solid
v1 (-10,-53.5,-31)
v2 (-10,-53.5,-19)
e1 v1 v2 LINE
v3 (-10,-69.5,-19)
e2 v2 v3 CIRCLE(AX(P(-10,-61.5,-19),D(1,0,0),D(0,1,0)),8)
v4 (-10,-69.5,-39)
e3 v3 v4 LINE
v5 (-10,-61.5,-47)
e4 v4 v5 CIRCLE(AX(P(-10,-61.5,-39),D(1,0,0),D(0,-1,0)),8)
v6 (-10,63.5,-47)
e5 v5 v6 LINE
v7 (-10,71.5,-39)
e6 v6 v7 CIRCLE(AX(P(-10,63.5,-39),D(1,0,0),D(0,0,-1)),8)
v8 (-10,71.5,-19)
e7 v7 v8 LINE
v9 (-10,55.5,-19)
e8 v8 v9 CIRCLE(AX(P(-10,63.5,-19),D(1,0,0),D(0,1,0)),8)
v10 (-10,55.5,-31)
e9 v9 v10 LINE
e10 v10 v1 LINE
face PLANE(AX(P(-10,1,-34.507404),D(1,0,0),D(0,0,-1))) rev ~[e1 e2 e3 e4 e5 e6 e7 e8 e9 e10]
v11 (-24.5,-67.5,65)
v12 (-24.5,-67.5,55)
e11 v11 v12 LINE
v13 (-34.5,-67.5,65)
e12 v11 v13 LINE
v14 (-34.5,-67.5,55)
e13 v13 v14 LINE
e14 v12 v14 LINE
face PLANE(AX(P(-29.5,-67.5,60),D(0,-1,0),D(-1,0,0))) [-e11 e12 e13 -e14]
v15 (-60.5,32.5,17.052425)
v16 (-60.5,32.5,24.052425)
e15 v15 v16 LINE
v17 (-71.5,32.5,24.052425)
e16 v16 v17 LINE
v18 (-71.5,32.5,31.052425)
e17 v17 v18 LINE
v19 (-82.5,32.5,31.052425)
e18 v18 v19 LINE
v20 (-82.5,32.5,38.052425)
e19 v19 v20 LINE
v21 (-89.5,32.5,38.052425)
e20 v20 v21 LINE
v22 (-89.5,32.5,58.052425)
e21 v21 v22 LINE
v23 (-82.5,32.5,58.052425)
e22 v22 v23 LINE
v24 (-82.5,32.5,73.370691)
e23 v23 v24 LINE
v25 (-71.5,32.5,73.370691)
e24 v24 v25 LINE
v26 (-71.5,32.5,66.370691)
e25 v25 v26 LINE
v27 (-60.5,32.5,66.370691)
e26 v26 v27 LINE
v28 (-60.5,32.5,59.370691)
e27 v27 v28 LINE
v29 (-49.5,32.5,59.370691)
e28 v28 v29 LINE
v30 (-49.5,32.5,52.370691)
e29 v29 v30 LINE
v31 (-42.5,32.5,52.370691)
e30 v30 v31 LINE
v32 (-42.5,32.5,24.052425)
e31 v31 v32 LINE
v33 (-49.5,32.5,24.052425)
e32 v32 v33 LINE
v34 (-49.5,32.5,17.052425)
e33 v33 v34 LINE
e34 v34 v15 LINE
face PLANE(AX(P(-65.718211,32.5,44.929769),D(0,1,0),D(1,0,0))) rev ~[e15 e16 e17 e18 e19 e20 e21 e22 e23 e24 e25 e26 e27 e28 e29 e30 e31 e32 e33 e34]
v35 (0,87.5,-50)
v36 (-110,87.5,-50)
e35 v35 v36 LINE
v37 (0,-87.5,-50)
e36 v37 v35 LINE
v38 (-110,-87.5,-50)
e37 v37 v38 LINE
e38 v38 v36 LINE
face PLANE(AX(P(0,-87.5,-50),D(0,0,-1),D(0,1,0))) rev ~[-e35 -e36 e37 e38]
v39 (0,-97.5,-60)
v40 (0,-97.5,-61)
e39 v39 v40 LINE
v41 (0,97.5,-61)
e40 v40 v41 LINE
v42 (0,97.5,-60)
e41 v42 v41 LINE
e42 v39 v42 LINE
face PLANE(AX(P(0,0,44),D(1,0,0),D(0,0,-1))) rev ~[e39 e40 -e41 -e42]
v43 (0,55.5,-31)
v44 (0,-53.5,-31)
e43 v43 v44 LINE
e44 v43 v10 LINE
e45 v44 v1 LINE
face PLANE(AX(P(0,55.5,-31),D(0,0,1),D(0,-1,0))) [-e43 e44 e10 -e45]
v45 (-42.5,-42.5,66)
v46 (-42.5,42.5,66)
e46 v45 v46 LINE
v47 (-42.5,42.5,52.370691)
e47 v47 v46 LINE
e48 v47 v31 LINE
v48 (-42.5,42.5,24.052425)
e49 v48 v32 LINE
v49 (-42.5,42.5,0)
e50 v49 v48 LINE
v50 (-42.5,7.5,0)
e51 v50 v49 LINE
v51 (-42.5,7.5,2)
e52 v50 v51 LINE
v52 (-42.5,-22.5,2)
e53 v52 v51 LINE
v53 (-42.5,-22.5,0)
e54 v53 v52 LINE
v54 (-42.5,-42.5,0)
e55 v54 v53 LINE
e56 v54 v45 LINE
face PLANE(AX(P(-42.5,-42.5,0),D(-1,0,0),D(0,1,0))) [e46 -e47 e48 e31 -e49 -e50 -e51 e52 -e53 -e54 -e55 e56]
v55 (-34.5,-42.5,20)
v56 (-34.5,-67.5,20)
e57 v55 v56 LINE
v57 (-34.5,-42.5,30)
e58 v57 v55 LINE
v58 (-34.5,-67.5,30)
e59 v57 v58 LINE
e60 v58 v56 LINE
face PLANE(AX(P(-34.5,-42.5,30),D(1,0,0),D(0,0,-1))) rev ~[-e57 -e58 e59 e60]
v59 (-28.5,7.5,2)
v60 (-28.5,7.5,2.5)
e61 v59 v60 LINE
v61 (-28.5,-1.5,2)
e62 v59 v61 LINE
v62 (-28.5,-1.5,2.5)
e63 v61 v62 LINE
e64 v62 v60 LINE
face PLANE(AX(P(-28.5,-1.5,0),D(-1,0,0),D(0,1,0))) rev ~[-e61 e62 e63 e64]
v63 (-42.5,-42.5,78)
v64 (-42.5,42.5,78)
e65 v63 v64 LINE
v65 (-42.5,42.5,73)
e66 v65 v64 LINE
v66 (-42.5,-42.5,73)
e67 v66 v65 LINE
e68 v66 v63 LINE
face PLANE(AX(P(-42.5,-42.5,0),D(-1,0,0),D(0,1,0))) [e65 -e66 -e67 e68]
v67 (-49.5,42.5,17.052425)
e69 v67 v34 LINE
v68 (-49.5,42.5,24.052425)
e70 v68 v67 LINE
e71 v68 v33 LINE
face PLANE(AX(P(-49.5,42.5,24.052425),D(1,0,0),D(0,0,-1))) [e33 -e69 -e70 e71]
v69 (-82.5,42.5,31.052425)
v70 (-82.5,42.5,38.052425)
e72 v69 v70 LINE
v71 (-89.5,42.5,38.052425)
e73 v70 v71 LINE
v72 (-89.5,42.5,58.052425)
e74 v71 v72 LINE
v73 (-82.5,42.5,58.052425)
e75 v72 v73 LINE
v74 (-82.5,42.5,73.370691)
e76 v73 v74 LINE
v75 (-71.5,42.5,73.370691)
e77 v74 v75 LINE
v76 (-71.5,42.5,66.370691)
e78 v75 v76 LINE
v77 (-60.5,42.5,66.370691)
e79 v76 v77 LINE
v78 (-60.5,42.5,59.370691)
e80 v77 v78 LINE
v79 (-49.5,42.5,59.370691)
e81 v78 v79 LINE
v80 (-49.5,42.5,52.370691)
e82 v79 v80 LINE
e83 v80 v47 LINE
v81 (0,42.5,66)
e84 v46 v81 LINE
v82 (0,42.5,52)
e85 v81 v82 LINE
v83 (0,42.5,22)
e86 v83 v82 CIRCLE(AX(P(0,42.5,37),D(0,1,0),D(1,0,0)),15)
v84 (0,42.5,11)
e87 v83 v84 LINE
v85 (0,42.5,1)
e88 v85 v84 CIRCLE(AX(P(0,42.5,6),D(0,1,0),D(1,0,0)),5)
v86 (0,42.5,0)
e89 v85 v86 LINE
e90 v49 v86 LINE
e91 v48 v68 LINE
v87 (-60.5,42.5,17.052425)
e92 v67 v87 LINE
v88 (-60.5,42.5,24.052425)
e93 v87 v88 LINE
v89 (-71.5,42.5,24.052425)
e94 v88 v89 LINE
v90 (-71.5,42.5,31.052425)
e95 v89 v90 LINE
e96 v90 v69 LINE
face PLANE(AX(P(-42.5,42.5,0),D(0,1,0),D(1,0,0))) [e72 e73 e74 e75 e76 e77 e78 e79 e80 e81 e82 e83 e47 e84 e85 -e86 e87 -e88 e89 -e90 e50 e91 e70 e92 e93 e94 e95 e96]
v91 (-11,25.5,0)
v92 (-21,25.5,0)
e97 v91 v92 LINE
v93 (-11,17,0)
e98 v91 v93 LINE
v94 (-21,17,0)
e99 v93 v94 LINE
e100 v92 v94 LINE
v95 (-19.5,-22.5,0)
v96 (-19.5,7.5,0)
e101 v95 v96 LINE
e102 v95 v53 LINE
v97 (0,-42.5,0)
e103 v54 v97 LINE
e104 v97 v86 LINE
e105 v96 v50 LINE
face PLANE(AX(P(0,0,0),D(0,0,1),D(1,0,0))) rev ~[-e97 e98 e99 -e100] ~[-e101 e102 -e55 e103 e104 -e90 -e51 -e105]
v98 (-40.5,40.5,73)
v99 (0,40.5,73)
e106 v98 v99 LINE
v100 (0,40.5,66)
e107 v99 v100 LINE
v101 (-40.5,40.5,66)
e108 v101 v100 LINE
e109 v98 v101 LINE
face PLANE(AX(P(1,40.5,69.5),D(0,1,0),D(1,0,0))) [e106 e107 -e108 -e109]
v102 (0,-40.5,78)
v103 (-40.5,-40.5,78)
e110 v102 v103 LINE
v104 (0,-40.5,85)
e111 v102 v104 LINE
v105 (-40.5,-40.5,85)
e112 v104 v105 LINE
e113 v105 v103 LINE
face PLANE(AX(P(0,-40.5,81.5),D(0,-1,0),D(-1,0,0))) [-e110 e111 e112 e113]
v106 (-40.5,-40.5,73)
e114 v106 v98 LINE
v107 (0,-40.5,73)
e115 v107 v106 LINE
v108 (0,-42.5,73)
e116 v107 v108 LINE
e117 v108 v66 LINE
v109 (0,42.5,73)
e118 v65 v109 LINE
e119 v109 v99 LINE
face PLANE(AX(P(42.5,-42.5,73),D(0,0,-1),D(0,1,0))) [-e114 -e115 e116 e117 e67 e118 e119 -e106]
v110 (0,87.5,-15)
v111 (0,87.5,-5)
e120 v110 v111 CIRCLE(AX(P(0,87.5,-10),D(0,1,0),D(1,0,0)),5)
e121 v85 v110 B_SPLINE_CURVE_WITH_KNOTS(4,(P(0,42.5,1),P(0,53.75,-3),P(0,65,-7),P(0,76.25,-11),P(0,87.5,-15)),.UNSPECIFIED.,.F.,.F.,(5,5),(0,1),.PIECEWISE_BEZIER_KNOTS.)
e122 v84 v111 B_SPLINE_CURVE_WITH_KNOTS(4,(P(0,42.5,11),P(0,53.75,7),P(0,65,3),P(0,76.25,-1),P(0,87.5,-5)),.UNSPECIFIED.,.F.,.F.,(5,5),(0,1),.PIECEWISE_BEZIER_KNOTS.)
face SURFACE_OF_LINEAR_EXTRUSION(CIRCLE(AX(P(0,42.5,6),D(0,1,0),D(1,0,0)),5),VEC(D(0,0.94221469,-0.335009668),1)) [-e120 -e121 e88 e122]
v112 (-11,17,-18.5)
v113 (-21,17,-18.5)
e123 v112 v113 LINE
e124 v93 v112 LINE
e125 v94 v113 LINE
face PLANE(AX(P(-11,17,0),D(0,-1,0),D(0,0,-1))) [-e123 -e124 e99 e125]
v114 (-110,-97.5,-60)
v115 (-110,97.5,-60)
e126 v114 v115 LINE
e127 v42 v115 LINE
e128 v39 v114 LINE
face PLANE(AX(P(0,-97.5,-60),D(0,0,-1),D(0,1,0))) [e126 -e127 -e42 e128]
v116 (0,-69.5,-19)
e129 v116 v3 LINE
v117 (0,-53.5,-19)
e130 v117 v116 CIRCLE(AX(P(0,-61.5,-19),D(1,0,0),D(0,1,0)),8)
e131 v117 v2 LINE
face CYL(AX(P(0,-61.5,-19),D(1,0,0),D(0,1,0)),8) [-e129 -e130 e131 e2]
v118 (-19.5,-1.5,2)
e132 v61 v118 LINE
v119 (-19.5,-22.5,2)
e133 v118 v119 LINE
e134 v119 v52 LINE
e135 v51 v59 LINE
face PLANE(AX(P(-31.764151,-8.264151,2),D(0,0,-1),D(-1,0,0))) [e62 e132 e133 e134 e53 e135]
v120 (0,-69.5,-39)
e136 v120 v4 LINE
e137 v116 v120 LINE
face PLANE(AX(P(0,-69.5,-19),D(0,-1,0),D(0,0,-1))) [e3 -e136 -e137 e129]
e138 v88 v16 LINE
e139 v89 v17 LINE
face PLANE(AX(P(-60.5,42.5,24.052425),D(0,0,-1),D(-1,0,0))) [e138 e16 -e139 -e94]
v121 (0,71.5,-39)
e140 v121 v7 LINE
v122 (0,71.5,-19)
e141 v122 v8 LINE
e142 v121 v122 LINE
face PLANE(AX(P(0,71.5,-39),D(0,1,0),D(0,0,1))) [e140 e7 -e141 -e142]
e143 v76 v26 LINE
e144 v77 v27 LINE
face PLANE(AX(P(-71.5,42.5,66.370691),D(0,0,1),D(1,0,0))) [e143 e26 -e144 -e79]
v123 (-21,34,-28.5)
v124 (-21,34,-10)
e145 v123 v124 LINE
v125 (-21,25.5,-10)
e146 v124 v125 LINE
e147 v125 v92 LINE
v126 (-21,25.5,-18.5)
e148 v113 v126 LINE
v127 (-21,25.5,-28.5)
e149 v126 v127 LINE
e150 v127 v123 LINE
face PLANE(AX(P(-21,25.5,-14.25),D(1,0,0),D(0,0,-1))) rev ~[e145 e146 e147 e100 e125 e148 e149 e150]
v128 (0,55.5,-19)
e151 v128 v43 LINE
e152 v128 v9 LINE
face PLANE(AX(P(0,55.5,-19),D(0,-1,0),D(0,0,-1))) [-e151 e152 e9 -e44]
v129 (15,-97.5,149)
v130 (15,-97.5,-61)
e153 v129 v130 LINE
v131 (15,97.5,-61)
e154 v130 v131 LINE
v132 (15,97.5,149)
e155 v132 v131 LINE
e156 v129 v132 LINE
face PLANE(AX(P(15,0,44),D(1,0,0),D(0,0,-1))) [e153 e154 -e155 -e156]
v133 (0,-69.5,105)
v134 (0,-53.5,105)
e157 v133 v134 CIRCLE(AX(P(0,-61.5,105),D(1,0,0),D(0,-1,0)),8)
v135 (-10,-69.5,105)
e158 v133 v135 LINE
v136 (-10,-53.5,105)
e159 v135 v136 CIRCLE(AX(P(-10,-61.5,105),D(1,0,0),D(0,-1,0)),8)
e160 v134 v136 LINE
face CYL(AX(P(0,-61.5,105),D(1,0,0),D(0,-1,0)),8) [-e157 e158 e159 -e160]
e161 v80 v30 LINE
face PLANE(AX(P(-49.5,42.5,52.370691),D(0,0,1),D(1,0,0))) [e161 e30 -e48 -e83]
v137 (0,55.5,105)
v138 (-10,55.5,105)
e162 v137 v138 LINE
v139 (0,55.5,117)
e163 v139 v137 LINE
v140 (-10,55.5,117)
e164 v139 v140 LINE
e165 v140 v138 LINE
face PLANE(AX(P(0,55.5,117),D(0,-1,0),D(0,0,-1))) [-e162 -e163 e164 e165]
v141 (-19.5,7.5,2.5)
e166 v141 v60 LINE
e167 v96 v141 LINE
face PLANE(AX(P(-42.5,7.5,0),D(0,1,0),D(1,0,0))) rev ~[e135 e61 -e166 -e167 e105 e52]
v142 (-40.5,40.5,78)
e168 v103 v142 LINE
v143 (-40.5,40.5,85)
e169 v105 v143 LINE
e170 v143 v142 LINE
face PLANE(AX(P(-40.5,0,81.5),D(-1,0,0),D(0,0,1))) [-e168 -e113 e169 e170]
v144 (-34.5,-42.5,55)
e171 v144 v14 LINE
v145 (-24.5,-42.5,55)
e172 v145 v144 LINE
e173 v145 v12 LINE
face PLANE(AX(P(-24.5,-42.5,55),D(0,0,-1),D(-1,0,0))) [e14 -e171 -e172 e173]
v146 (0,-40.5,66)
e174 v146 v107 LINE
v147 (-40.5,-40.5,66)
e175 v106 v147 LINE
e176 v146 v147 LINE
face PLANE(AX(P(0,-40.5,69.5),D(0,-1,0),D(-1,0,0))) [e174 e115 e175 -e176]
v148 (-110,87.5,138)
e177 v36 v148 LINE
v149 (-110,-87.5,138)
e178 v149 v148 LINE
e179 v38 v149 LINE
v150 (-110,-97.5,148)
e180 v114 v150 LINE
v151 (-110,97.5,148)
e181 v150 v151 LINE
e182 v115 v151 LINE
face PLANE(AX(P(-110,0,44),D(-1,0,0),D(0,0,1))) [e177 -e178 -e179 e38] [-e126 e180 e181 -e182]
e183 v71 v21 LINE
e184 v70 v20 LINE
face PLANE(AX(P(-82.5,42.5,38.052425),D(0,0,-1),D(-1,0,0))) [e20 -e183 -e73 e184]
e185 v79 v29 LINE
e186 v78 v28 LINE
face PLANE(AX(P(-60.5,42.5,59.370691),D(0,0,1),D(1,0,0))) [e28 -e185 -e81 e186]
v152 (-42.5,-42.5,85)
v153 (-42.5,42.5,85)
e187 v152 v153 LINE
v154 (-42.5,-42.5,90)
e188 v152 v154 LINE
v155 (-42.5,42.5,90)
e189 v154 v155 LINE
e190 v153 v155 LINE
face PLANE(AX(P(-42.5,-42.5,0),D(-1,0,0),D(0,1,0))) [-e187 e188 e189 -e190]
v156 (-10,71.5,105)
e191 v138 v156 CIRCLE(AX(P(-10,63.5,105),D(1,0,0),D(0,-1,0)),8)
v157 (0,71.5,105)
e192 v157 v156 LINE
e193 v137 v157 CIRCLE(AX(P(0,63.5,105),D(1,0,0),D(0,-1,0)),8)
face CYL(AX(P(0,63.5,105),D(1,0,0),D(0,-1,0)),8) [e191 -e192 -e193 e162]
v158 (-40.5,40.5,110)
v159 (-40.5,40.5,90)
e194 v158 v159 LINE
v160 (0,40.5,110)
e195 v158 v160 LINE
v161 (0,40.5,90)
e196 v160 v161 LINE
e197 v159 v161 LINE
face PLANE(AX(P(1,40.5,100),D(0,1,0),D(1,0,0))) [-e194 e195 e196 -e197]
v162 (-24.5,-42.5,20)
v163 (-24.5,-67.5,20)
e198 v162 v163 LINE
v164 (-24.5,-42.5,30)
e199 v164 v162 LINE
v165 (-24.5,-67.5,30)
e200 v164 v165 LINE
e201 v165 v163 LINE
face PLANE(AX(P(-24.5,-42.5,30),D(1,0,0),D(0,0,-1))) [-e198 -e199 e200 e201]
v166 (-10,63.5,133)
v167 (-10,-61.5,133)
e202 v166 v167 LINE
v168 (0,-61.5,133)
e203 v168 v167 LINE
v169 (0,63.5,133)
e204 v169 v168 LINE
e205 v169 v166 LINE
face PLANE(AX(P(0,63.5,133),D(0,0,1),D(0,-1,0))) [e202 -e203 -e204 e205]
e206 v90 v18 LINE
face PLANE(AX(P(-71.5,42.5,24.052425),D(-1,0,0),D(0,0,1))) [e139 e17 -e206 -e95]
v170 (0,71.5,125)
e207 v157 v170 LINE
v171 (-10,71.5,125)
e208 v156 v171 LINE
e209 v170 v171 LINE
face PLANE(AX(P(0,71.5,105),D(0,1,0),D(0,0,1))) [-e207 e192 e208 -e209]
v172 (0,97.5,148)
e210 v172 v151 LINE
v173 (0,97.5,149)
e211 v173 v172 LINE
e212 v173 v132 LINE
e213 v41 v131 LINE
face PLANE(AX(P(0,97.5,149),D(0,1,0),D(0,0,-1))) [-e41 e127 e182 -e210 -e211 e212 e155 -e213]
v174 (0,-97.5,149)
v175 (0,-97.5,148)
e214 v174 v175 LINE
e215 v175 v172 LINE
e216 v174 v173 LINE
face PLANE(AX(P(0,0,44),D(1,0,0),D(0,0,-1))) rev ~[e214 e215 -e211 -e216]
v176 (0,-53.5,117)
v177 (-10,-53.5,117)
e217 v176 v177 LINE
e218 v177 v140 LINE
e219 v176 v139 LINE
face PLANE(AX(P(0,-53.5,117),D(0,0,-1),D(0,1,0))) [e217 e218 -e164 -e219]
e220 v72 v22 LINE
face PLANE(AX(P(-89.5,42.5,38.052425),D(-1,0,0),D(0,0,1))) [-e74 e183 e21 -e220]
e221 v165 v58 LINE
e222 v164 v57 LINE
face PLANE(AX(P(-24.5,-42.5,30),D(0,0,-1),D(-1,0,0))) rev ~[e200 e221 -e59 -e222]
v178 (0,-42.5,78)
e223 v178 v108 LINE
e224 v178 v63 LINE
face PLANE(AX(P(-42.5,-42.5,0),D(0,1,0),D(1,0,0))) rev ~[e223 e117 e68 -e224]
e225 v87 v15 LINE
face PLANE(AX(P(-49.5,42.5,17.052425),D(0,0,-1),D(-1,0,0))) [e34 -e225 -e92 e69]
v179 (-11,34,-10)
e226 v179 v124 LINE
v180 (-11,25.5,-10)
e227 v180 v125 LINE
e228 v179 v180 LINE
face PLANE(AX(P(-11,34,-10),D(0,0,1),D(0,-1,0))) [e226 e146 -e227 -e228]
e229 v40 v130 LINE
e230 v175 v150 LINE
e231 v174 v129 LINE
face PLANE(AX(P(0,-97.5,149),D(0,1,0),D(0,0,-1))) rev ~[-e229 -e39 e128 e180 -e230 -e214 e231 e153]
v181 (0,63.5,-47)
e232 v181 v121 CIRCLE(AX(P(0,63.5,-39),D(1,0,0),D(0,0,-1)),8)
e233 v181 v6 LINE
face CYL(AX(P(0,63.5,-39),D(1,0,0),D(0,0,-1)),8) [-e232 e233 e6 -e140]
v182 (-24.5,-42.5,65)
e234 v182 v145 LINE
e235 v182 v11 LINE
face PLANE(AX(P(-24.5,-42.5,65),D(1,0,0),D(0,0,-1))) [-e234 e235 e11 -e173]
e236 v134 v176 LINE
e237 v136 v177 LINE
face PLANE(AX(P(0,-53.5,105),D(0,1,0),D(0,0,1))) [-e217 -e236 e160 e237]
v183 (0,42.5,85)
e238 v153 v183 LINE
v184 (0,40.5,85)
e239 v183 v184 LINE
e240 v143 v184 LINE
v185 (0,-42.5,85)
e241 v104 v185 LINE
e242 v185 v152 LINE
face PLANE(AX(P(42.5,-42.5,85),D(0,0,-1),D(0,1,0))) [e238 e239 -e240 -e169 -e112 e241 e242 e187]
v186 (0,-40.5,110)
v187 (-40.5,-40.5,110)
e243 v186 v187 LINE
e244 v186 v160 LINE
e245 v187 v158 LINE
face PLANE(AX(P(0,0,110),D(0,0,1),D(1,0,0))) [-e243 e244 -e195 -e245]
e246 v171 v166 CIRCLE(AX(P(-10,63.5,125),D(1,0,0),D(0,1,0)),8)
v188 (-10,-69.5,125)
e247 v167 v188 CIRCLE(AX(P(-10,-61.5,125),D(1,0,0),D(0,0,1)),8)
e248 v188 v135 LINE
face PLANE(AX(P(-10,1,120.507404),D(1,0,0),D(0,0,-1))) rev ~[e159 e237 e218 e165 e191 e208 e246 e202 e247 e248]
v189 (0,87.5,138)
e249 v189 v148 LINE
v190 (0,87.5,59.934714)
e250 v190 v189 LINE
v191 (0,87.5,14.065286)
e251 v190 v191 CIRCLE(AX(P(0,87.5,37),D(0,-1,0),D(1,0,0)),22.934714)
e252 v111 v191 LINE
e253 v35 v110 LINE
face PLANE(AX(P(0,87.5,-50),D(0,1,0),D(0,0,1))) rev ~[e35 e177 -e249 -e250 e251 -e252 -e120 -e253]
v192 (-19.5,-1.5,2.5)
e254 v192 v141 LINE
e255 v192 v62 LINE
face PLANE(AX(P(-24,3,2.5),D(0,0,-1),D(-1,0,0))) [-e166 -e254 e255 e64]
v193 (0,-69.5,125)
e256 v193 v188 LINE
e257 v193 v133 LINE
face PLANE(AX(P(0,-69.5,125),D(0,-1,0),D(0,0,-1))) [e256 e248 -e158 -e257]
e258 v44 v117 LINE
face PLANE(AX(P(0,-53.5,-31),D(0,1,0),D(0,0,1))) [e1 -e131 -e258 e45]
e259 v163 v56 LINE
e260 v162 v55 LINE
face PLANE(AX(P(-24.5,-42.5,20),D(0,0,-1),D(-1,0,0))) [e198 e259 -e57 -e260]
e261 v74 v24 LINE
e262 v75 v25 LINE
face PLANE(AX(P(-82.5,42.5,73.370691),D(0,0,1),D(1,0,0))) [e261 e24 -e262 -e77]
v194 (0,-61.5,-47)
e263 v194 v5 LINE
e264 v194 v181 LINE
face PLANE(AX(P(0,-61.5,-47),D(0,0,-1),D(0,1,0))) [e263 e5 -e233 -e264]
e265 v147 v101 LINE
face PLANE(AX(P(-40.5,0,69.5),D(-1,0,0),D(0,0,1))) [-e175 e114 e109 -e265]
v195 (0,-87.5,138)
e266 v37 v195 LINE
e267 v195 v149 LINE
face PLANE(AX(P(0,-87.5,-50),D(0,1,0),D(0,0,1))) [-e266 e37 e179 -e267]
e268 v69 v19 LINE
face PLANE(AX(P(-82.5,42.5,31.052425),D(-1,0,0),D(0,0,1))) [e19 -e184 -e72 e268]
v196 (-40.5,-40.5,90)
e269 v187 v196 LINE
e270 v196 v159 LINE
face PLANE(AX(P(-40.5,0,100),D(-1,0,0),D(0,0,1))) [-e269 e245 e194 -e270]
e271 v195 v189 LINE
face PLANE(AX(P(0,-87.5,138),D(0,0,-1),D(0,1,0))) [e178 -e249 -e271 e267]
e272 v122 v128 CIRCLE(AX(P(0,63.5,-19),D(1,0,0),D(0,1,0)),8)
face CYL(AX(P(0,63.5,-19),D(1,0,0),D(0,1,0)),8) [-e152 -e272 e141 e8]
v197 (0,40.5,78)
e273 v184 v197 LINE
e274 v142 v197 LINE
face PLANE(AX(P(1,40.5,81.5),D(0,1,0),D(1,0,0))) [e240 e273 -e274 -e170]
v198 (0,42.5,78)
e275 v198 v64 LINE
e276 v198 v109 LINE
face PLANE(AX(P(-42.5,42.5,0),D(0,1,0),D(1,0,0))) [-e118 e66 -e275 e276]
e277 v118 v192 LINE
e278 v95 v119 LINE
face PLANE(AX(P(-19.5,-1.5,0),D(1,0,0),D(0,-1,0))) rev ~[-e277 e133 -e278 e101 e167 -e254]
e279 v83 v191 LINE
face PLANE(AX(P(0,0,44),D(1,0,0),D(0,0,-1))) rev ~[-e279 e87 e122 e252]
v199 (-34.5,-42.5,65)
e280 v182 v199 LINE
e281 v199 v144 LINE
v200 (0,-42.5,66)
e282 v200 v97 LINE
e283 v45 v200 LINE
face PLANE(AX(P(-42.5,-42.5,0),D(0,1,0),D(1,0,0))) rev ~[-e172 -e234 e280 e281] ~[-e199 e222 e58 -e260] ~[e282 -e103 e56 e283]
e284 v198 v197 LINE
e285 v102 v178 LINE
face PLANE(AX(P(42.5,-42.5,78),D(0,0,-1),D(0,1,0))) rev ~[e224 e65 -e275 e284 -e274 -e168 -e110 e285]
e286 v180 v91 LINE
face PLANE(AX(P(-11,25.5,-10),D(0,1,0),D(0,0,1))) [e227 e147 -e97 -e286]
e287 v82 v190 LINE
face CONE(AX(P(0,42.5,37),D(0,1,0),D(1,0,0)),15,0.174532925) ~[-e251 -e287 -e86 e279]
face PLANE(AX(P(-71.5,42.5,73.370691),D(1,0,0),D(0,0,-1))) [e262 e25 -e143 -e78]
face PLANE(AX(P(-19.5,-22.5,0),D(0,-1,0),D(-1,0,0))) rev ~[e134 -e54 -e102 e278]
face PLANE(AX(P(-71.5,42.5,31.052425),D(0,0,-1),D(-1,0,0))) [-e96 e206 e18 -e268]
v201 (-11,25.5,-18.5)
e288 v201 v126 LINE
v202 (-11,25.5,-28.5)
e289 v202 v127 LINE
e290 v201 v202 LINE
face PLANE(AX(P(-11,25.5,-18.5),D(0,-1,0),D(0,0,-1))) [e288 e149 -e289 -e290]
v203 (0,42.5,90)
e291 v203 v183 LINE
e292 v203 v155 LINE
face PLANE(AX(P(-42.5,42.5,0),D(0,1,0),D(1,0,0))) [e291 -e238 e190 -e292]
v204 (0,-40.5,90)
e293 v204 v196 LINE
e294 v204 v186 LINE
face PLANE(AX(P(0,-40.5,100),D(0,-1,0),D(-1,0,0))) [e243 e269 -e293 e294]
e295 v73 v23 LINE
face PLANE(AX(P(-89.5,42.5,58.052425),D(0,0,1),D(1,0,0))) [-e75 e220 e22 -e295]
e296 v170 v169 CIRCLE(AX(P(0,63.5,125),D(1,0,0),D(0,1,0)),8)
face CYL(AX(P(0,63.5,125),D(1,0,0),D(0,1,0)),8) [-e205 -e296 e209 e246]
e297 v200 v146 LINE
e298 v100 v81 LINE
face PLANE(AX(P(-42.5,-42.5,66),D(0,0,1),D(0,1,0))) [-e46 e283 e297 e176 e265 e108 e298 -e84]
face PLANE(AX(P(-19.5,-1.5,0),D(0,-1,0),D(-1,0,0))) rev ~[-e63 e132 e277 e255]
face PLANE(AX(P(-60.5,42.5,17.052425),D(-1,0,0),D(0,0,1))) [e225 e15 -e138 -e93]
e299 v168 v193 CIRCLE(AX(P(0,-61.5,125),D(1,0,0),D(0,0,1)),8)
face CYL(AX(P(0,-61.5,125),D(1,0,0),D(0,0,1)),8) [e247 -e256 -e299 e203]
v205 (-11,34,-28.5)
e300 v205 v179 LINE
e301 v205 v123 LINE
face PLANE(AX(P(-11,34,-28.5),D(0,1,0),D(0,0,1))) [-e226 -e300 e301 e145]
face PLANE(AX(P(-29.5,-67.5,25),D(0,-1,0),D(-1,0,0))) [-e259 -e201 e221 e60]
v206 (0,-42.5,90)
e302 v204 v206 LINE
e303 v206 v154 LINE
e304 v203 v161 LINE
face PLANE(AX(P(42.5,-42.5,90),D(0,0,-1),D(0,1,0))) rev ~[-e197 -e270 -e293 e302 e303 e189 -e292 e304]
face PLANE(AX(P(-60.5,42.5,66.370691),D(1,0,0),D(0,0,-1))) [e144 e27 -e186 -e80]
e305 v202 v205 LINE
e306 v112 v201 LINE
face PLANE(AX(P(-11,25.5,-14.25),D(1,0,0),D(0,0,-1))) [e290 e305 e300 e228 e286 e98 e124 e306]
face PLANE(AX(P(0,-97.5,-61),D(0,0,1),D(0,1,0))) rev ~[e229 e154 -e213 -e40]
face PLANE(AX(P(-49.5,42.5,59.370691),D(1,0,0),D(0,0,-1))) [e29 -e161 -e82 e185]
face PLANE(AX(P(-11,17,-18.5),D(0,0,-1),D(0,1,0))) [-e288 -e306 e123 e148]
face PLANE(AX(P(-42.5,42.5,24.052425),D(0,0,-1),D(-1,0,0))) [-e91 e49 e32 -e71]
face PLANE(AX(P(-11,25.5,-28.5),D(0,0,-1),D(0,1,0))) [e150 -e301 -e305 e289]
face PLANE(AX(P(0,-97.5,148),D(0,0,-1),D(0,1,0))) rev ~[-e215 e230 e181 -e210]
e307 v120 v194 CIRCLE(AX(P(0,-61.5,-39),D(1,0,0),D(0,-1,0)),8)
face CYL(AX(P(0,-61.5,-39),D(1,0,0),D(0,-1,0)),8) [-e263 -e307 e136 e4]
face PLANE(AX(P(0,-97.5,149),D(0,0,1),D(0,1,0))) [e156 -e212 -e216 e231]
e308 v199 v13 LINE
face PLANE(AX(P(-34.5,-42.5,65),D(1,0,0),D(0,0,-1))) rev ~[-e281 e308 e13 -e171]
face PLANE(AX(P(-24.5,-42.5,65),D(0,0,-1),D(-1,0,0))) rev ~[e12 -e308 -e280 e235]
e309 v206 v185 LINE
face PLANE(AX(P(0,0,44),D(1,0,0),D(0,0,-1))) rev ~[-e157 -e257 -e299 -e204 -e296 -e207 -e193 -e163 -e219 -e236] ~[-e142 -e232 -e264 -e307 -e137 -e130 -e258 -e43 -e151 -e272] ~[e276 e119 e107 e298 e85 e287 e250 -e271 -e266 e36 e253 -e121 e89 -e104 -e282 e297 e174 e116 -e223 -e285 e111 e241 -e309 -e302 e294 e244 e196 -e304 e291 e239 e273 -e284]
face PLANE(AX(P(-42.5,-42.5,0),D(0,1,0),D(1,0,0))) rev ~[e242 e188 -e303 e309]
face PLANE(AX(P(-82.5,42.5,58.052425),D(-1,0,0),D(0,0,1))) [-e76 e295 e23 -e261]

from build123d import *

# Parameters (mm, degrees)
CROQUIS2_W              = 85
CROQUIS2_H              = 85
SALIENTE_EXTRUIR1_DEPTH = 110
CROQUIS3_W              = 20
CROQUIS3_H              = 85
CROQUIS3_W_2            = 7
CORTAR_EXTRUIR1_DEPTH   = 2
CROQUIS5_W              = 83
CROQUIS5_H              = 20
CROQUIS5_H_2            = 7
CORTAR_EXTRUIR2_DEPTH   = 2
CROQUIS6_W              = 20
CROQUIS6_H              = 83
CROQUIS6_W_2            = 7
CORTAR_EXTRUIR3_DEPTH   = 2
CROQUIS7_W              = 81
CROQUIS7_H              = 20
CROQUIS7_H_2            = 7
CORTAR_EXTRUIR4_DEPTH   = 2
CORTAR_EXTRUIR6_DEPTH   = 2
CROQUIS12_W             = 9
CROQUIS12_H             = 9
CORTAR_EXTRUIR7_DEPTH   = 2.5
SALIENTE_EXTRUIR3_DEPTH = 10
SALIENTE_EXTRUIR4_DEPTH = 10
SALIENTE_EXTRUIR5_DEPTH = 10
CROQUIS20_W             = 10
CROQUIS20_H             = 10
SALIENTE_EXTRUIR6_DEPTH = 25
CROQUIS21_W             = 150.699966202
CROQUIS21_H             = 120.747177889
CORTAR_EXTRUIR9_DEPTH   = 112
CROQUIS22_W             = 210
CROQUIS22_H             = 195
SALIENTE_EXTRUIR7_DEPTH = 15
CROQUIS23_W             = 208
CROQUIS23_H             = 195
CROQUIS23_W_2           = 188
CROQUIS23_H_2           = 175
EXTRUIR_L_MINA1_DEPTH   = 110
SALIENTE_EXTRUIR8_REACH = 234.166
CROQUIS25_R             = 15
SALIENTE_EXTRUIR8_DRAFT = -10
CROQUIS26_R             = 5
SALIENTE_EXTRUIR9_DEPTH = 10


with BuildPart() as part:
    # Croquis2 → Saliente-Extruir1 (new body)
    with BuildSketch(Plane.XY):
        Rectangle(CROQUIS2_W, CROQUIS2_H)
    extrude(amount=SALIENTE_EXTRUIR1_DEPTH)

    # Croquis3 → Cortar-Extruir1 (cut)
    with BuildSketch(Plane.ZY.offset(42.5)):
        with Locations((100, 0)):
            Rectangle(CROQUIS3_W, CROQUIS3_H)
        with Locations((81.5, 0)):
            Rectangle(CROQUIS3_W_2, CROQUIS3_H)
        with Locations((69.5, 0)):
            Rectangle(CROQUIS3_W_2, CROQUIS3_H)
    extrude(amount=-CORTAR_EXTRUIR1_DEPTH, mode=Mode.SUBTRACT)

    # Croquis5 → Cortar-Extruir2 (cut)
    with BuildSketch(Plane(origin=(0, 42.5, 0), x_dir=(1, 0, 0), z_dir=(0, 1, 0))):
        with Locations((1, -100)):
            Rectangle(CROQUIS5_W, CROQUIS5_H)
        with Locations((1, -81.5)):
            Rectangle(CROQUIS5_W, CROQUIS5_H_2)
        with Locations((1, -69.5)):
            Rectangle(CROQUIS5_W, CROQUIS5_H_2)
    extrude(amount=-CORTAR_EXTRUIR2_DEPTH, mode=Mode.SUBTRACT)

    # Croquis6 → Cortar-Extruir3 (cut)
    with BuildSketch(Plane(origin=(42.5, 0, 0), x_dir=(0, 0, -1), z_dir=(1, 0, 0))):
        with Locations((-100, -1)):
            Rectangle(CROQUIS6_W, CROQUIS6_H)
        with Locations((-81.5, -1)):
            Rectangle(CROQUIS6_W_2, CROQUIS6_H)
        with Locations((-69.5, -1)):
            Rectangle(CROQUIS6_W_2, CROQUIS6_H)
    extrude(amount=-CORTAR_EXTRUIR3_DEPTH, mode=Mode.SUBTRACT)

    # Croquis7 → Cortar-Extruir4 (cut)
    with BuildSketch(Plane(origin=(0, -42.5, 0), x_dir=(-1, 0, 0), z_dir=(0, -1, 0))):
        with Locations((0, -100)):
            Rectangle(CROQUIS7_W, CROQUIS7_H)
        with Locations((0, -81.5)):
            Rectangle(CROQUIS7_W, CROQUIS7_H_2)
        with Locations((0, -69.5)):
            Rectangle(CROQUIS7_W, CROQUIS7_H_2)
    extrude(amount=-CORTAR_EXTRUIR4_DEPTH, mode=Mode.SUBTRACT)

    # Croquis8 → Cortar-Extruir6 (cut)
    with BuildSketch(Plane(origin=(0, 0, 0), x_dir=(-1, 0, 0), z_dir=(0, 0, -1))):
        Polygon((-19.5, -22.5), (-19.5, -1.5), (-28.5, -1.5), (-28.5, 7.5), (-42.5, 7.5), (-42.5, -22.5), align=None)
        Polygon((42.5, -22.5), (42.5, 7.5), (28.5, 7.5), (28.5, -1.5), (19.5, -1.5), (19.5, -22.5), align=None)
    extrude(amount=-CORTAR_EXTRUIR6_DEPTH, mode=Mode.SUBTRACT)

    # Croquis12 → Cortar-Extruir7 (cut)
    with BuildSketch(Plane(origin=(0, 0, 0), x_dir=(-1, 0, 0), z_dir=(0, 0, -1))):
        with Locations((-24, 3)):
            Rectangle(CROQUIS12_W, CROQUIS12_H)
        with Locations((24, 3)):
            Rectangle(CROQUIS12_W, CROQUIS12_H)
    extrude(amount=-CORTAR_EXTRUIR7_DEPTH, mode=Mode.SUBTRACT)

    # Croquis15 → Saliente-Extruir3 (add)
    with BuildSketch(Plane(origin=(-11, 0, 0), x_dir=(0, 0, -1), z_dir=(1, 0, 0))):
        Polygon((0, 17), (18.5, 17), (18.5, 25.5), (28.5, 25.5), (28.5, 34), (10, 34), (10, 25.5), (0, 25.5), align=None)
    extrude(amount=-SALIENTE_EXTRUIR3_DEPTH)

    # Croquis18 → Saliente-Extruir4 (add)
    with BuildSketch(Plane(origin=(11, 0, 0), x_dir=(0, 0, -1), z_dir=(1, 0, 0))):
        Polygon((18.5, 17), (18.5, 25.5), (28.5, 25.5), (28.5, 34), (10, 34), (10, 25.5), (0, 25.5), (0, 17), align=None)
    extrude(amount=SALIENTE_EXTRUIR4_DEPTH)

    # Croquis19 → Saliente-Extruir5 (add)
    with BuildSketch(Plane(origin=(0, 42.5, 0), x_dir=(1, 0, 0), z_dir=(0, 1, 0))):
        Polygon((60.5, -59.370690979), (49.5, -59.370690979), (49.5, -52.370690979), (42.5, -52.370690979), (42.5, -24.05242538), (49.5, -24.05242538), (49.5, -17.05242538), (60.5, -17.05242538), (60.5, -24.05242538), (71.5, -24.05242538), (71.5, -31.05242538), (82.5, -31.05242538), (82.5, -38.05242538), (89.5, -38.05242538), (89.5, -58.05242538), (82.5, -58.05242538), (82.5, -73.370690979), (71.5, -73.370690979), (71.5, -66.370690979), (60.5, -66.370690979), align=None)
        Polygon((-49.5, -17.05242538), (-60.5, -17.05242538), (-60.5, -24.05242538), (-71.5, -24.05242538), (-71.5, -31.05242538), (-82.5, -31.05242538), (-82.5, -38.05242538), (-89.5, -38.05242538), (-89.5, -58.05242538), (-82.5, -58.05242538), (-82.5, -73.370690979), (-71.5, -73.370690979), (-71.5, -66.370690979), (-60.5, -66.370690979), (-60.5, -59.370690979), (-49.5, -59.370690979), (-49.5, -52.370690979), (-42.5, -52.370690979), (-42.5, -24.05242538), (-49.5, -24.05242538), align=None)
    extrude(amount=-SALIENTE_EXTRUIR5_DEPTH)

    # Croquis20 → Saliente-Extruir6 (add)
    with BuildSketch(Plane(origin=(0, -42.5, 0), x_dir=(-1, 0, 0), z_dir=(0, -1, 0))):
        with Locations((-29.5, -25)):
            Rectangle(CROQUIS20_W, CROQUIS20_H)
        with Locations((29.5, -25)):
            Rectangle(CROQUIS20_W, CROQUIS20_H)
        with Locations((-29.5, -60)):
            Rectangle(CROQUIS20_W, CROQUIS20_H)
        with Locations((29.5, -60)):
            Rectangle(CROQUIS20_W, CROQUIS20_H)
    extrude(amount=SALIENTE_EXTRUIR6_DEPTH)

    # Croquis21 → Cortar-Extruir9 (cut)
    with BuildSketch(Plane(origin=(0, 0, 0), x_dir=(0, 0, -1), z_dir=(1, 0, 0))):
        with Locations((-39.284674443, -15.603112065)):
            Rectangle(CROQUIS21_W, CROQUIS21_H)
    extrude(amount=CORTAR_EXTRUIR9_DEPTH, mode=Mode.SUBTRACT)

    # Croquis22 → Saliente-Extruir7 (add)
    with BuildSketch(Plane(origin=(0, 0, 0), x_dir=(0, 0, -1), z_dir=(1, 0, 0))):
        with Locations((-44, 0)):
            Rectangle(CROQUIS22_W, CROQUIS22_H)
    extrude(amount=SALIENTE_EXTRUIR7_DEPTH)

    # Croquis23 → Extruir-Lámina1 (add)
    with BuildSketch(Plane.ZY):
        with Locations((44, 0)):
            Rectangle(CROQUIS23_W, CROQUIS23_H)
        with Locations((44, 0)):
            Rectangle(CROQUIS23_W_2, CROQUIS23_H_2, mode=Mode.SUBTRACT)
    extrude(amount=EXTRUIR_L_MINA1_DEPTH)




with BuildPart() as saliente_extruir8_long_prism_1:
    # Croquis25 → Saliente-Extruir8 (the long prism of profile 1, to be tilted and cut off)
    with BuildSketch(Plane(origin=(0, 42.5, 0), x_dir=(1, 0, 0), z_dir=(0, 1, 0))):
        with Locations((0, -37)):
            Circle(CROQUIS25_R)
    extrude(amount=SALIENTE_EXTRUIR8_REACH)
    saliente_extruir8_tool1_sides = [saliente_extruir8_long_prism_1.faces().sort_by_distance(p)[0] for p in [
        (-15, 159.583, 37),
    ]]
    draft(saliente_extruir8_tool1_sides, Plane(origin=(0, 42.5, 0), x_dir=(1, 0, 0), z_dir=(0, 1, 0)), SALIENTE_EXTRUIR8_DRAFT)  # the draft: side faces tilted about the start plane


with BuildPart() as part_1:
    add(part.part)
    saliente_extruir8_tool1 = saliente_extruir8_long_prism_1.part - part.part
    add(saliente_extruir8_tool1.solids().sort_by_distance((0, 42.5, 37))[0])

    # Barrer2: sweep along a path in Croquis35
    with BuildLine(Plane(origin=(0, 0, 0), x_dir=(0, 0, -1), z_dir=(1, 0, 0))) as barrer2_path:
        Line((-6, 42.5), (10, 87.5))
    # Croquis26 → Barrer2 (sweep)
    with BuildSketch(Plane(origin=(0, 42.5, 0), x_dir=(1, 0, 0), z_dir=(0, 1, 0))):
        with Locations((0, -6)):
            Circle(CROQUIS26_R)
    sweep(path=barrer2_path.line)

    # Croquis37 → Saliente-Extruir9 (add)
    with BuildSketch(Plane.ZY):
        with BuildLine():
            Line((105, -53.5), (117, -53.5))
            Line((117, -53.5), (117, 55.5))
            Line((117, 55.5), (105, 55.5))
            ThreePointArc((105, 55.5), (97, 63.5), (105, 71.5))
            Line((105, 71.5), (125, 71.5))
            ThreePointArc((125, 71.5), (130.656854249, 69.156854249), (133, 63.5))
            Line((133, 63.5), (133, -61.5))
            ThreePointArc((133, -61.5), (130.656854249, -67.156854249), (125, -69.5))
            Line((125, -69.5), (105, -69.5))
            ThreePointArc((105, -69.5), (97, -61.5), (105, -53.5))
        make_face()
        with BuildLine():
            ThreePointArc((-47, 63.5), (-44.656854249, 69.156854249), (-39, 71.5))
            Line((-39, 71.5), (-19, 71.5))
            ThreePointArc((-19, 71.5), (-11, 63.5), (-19, 55.5))
            Line((-19, 55.5), (-31, 55.5))
            Line((-31, 55.5), (-31, -53.5))
            Line((-31, -53.5), (-19, -53.5))
            ThreePointArc((-19, -53.5), (-11, -61.5), (-19, -69.5))
            Line((-19, -69.5), (-39, -69.5))
            ThreePointArc((-39, -69.5), (-44.656854249, -67.156854249), (-47, -61.5))
            Line((-47, -61.5), (-47, 63.5))
        make_face()
    extrude(amount=SALIENTE_EXTRUIR9_DEPTH)


solid = part_1.part
